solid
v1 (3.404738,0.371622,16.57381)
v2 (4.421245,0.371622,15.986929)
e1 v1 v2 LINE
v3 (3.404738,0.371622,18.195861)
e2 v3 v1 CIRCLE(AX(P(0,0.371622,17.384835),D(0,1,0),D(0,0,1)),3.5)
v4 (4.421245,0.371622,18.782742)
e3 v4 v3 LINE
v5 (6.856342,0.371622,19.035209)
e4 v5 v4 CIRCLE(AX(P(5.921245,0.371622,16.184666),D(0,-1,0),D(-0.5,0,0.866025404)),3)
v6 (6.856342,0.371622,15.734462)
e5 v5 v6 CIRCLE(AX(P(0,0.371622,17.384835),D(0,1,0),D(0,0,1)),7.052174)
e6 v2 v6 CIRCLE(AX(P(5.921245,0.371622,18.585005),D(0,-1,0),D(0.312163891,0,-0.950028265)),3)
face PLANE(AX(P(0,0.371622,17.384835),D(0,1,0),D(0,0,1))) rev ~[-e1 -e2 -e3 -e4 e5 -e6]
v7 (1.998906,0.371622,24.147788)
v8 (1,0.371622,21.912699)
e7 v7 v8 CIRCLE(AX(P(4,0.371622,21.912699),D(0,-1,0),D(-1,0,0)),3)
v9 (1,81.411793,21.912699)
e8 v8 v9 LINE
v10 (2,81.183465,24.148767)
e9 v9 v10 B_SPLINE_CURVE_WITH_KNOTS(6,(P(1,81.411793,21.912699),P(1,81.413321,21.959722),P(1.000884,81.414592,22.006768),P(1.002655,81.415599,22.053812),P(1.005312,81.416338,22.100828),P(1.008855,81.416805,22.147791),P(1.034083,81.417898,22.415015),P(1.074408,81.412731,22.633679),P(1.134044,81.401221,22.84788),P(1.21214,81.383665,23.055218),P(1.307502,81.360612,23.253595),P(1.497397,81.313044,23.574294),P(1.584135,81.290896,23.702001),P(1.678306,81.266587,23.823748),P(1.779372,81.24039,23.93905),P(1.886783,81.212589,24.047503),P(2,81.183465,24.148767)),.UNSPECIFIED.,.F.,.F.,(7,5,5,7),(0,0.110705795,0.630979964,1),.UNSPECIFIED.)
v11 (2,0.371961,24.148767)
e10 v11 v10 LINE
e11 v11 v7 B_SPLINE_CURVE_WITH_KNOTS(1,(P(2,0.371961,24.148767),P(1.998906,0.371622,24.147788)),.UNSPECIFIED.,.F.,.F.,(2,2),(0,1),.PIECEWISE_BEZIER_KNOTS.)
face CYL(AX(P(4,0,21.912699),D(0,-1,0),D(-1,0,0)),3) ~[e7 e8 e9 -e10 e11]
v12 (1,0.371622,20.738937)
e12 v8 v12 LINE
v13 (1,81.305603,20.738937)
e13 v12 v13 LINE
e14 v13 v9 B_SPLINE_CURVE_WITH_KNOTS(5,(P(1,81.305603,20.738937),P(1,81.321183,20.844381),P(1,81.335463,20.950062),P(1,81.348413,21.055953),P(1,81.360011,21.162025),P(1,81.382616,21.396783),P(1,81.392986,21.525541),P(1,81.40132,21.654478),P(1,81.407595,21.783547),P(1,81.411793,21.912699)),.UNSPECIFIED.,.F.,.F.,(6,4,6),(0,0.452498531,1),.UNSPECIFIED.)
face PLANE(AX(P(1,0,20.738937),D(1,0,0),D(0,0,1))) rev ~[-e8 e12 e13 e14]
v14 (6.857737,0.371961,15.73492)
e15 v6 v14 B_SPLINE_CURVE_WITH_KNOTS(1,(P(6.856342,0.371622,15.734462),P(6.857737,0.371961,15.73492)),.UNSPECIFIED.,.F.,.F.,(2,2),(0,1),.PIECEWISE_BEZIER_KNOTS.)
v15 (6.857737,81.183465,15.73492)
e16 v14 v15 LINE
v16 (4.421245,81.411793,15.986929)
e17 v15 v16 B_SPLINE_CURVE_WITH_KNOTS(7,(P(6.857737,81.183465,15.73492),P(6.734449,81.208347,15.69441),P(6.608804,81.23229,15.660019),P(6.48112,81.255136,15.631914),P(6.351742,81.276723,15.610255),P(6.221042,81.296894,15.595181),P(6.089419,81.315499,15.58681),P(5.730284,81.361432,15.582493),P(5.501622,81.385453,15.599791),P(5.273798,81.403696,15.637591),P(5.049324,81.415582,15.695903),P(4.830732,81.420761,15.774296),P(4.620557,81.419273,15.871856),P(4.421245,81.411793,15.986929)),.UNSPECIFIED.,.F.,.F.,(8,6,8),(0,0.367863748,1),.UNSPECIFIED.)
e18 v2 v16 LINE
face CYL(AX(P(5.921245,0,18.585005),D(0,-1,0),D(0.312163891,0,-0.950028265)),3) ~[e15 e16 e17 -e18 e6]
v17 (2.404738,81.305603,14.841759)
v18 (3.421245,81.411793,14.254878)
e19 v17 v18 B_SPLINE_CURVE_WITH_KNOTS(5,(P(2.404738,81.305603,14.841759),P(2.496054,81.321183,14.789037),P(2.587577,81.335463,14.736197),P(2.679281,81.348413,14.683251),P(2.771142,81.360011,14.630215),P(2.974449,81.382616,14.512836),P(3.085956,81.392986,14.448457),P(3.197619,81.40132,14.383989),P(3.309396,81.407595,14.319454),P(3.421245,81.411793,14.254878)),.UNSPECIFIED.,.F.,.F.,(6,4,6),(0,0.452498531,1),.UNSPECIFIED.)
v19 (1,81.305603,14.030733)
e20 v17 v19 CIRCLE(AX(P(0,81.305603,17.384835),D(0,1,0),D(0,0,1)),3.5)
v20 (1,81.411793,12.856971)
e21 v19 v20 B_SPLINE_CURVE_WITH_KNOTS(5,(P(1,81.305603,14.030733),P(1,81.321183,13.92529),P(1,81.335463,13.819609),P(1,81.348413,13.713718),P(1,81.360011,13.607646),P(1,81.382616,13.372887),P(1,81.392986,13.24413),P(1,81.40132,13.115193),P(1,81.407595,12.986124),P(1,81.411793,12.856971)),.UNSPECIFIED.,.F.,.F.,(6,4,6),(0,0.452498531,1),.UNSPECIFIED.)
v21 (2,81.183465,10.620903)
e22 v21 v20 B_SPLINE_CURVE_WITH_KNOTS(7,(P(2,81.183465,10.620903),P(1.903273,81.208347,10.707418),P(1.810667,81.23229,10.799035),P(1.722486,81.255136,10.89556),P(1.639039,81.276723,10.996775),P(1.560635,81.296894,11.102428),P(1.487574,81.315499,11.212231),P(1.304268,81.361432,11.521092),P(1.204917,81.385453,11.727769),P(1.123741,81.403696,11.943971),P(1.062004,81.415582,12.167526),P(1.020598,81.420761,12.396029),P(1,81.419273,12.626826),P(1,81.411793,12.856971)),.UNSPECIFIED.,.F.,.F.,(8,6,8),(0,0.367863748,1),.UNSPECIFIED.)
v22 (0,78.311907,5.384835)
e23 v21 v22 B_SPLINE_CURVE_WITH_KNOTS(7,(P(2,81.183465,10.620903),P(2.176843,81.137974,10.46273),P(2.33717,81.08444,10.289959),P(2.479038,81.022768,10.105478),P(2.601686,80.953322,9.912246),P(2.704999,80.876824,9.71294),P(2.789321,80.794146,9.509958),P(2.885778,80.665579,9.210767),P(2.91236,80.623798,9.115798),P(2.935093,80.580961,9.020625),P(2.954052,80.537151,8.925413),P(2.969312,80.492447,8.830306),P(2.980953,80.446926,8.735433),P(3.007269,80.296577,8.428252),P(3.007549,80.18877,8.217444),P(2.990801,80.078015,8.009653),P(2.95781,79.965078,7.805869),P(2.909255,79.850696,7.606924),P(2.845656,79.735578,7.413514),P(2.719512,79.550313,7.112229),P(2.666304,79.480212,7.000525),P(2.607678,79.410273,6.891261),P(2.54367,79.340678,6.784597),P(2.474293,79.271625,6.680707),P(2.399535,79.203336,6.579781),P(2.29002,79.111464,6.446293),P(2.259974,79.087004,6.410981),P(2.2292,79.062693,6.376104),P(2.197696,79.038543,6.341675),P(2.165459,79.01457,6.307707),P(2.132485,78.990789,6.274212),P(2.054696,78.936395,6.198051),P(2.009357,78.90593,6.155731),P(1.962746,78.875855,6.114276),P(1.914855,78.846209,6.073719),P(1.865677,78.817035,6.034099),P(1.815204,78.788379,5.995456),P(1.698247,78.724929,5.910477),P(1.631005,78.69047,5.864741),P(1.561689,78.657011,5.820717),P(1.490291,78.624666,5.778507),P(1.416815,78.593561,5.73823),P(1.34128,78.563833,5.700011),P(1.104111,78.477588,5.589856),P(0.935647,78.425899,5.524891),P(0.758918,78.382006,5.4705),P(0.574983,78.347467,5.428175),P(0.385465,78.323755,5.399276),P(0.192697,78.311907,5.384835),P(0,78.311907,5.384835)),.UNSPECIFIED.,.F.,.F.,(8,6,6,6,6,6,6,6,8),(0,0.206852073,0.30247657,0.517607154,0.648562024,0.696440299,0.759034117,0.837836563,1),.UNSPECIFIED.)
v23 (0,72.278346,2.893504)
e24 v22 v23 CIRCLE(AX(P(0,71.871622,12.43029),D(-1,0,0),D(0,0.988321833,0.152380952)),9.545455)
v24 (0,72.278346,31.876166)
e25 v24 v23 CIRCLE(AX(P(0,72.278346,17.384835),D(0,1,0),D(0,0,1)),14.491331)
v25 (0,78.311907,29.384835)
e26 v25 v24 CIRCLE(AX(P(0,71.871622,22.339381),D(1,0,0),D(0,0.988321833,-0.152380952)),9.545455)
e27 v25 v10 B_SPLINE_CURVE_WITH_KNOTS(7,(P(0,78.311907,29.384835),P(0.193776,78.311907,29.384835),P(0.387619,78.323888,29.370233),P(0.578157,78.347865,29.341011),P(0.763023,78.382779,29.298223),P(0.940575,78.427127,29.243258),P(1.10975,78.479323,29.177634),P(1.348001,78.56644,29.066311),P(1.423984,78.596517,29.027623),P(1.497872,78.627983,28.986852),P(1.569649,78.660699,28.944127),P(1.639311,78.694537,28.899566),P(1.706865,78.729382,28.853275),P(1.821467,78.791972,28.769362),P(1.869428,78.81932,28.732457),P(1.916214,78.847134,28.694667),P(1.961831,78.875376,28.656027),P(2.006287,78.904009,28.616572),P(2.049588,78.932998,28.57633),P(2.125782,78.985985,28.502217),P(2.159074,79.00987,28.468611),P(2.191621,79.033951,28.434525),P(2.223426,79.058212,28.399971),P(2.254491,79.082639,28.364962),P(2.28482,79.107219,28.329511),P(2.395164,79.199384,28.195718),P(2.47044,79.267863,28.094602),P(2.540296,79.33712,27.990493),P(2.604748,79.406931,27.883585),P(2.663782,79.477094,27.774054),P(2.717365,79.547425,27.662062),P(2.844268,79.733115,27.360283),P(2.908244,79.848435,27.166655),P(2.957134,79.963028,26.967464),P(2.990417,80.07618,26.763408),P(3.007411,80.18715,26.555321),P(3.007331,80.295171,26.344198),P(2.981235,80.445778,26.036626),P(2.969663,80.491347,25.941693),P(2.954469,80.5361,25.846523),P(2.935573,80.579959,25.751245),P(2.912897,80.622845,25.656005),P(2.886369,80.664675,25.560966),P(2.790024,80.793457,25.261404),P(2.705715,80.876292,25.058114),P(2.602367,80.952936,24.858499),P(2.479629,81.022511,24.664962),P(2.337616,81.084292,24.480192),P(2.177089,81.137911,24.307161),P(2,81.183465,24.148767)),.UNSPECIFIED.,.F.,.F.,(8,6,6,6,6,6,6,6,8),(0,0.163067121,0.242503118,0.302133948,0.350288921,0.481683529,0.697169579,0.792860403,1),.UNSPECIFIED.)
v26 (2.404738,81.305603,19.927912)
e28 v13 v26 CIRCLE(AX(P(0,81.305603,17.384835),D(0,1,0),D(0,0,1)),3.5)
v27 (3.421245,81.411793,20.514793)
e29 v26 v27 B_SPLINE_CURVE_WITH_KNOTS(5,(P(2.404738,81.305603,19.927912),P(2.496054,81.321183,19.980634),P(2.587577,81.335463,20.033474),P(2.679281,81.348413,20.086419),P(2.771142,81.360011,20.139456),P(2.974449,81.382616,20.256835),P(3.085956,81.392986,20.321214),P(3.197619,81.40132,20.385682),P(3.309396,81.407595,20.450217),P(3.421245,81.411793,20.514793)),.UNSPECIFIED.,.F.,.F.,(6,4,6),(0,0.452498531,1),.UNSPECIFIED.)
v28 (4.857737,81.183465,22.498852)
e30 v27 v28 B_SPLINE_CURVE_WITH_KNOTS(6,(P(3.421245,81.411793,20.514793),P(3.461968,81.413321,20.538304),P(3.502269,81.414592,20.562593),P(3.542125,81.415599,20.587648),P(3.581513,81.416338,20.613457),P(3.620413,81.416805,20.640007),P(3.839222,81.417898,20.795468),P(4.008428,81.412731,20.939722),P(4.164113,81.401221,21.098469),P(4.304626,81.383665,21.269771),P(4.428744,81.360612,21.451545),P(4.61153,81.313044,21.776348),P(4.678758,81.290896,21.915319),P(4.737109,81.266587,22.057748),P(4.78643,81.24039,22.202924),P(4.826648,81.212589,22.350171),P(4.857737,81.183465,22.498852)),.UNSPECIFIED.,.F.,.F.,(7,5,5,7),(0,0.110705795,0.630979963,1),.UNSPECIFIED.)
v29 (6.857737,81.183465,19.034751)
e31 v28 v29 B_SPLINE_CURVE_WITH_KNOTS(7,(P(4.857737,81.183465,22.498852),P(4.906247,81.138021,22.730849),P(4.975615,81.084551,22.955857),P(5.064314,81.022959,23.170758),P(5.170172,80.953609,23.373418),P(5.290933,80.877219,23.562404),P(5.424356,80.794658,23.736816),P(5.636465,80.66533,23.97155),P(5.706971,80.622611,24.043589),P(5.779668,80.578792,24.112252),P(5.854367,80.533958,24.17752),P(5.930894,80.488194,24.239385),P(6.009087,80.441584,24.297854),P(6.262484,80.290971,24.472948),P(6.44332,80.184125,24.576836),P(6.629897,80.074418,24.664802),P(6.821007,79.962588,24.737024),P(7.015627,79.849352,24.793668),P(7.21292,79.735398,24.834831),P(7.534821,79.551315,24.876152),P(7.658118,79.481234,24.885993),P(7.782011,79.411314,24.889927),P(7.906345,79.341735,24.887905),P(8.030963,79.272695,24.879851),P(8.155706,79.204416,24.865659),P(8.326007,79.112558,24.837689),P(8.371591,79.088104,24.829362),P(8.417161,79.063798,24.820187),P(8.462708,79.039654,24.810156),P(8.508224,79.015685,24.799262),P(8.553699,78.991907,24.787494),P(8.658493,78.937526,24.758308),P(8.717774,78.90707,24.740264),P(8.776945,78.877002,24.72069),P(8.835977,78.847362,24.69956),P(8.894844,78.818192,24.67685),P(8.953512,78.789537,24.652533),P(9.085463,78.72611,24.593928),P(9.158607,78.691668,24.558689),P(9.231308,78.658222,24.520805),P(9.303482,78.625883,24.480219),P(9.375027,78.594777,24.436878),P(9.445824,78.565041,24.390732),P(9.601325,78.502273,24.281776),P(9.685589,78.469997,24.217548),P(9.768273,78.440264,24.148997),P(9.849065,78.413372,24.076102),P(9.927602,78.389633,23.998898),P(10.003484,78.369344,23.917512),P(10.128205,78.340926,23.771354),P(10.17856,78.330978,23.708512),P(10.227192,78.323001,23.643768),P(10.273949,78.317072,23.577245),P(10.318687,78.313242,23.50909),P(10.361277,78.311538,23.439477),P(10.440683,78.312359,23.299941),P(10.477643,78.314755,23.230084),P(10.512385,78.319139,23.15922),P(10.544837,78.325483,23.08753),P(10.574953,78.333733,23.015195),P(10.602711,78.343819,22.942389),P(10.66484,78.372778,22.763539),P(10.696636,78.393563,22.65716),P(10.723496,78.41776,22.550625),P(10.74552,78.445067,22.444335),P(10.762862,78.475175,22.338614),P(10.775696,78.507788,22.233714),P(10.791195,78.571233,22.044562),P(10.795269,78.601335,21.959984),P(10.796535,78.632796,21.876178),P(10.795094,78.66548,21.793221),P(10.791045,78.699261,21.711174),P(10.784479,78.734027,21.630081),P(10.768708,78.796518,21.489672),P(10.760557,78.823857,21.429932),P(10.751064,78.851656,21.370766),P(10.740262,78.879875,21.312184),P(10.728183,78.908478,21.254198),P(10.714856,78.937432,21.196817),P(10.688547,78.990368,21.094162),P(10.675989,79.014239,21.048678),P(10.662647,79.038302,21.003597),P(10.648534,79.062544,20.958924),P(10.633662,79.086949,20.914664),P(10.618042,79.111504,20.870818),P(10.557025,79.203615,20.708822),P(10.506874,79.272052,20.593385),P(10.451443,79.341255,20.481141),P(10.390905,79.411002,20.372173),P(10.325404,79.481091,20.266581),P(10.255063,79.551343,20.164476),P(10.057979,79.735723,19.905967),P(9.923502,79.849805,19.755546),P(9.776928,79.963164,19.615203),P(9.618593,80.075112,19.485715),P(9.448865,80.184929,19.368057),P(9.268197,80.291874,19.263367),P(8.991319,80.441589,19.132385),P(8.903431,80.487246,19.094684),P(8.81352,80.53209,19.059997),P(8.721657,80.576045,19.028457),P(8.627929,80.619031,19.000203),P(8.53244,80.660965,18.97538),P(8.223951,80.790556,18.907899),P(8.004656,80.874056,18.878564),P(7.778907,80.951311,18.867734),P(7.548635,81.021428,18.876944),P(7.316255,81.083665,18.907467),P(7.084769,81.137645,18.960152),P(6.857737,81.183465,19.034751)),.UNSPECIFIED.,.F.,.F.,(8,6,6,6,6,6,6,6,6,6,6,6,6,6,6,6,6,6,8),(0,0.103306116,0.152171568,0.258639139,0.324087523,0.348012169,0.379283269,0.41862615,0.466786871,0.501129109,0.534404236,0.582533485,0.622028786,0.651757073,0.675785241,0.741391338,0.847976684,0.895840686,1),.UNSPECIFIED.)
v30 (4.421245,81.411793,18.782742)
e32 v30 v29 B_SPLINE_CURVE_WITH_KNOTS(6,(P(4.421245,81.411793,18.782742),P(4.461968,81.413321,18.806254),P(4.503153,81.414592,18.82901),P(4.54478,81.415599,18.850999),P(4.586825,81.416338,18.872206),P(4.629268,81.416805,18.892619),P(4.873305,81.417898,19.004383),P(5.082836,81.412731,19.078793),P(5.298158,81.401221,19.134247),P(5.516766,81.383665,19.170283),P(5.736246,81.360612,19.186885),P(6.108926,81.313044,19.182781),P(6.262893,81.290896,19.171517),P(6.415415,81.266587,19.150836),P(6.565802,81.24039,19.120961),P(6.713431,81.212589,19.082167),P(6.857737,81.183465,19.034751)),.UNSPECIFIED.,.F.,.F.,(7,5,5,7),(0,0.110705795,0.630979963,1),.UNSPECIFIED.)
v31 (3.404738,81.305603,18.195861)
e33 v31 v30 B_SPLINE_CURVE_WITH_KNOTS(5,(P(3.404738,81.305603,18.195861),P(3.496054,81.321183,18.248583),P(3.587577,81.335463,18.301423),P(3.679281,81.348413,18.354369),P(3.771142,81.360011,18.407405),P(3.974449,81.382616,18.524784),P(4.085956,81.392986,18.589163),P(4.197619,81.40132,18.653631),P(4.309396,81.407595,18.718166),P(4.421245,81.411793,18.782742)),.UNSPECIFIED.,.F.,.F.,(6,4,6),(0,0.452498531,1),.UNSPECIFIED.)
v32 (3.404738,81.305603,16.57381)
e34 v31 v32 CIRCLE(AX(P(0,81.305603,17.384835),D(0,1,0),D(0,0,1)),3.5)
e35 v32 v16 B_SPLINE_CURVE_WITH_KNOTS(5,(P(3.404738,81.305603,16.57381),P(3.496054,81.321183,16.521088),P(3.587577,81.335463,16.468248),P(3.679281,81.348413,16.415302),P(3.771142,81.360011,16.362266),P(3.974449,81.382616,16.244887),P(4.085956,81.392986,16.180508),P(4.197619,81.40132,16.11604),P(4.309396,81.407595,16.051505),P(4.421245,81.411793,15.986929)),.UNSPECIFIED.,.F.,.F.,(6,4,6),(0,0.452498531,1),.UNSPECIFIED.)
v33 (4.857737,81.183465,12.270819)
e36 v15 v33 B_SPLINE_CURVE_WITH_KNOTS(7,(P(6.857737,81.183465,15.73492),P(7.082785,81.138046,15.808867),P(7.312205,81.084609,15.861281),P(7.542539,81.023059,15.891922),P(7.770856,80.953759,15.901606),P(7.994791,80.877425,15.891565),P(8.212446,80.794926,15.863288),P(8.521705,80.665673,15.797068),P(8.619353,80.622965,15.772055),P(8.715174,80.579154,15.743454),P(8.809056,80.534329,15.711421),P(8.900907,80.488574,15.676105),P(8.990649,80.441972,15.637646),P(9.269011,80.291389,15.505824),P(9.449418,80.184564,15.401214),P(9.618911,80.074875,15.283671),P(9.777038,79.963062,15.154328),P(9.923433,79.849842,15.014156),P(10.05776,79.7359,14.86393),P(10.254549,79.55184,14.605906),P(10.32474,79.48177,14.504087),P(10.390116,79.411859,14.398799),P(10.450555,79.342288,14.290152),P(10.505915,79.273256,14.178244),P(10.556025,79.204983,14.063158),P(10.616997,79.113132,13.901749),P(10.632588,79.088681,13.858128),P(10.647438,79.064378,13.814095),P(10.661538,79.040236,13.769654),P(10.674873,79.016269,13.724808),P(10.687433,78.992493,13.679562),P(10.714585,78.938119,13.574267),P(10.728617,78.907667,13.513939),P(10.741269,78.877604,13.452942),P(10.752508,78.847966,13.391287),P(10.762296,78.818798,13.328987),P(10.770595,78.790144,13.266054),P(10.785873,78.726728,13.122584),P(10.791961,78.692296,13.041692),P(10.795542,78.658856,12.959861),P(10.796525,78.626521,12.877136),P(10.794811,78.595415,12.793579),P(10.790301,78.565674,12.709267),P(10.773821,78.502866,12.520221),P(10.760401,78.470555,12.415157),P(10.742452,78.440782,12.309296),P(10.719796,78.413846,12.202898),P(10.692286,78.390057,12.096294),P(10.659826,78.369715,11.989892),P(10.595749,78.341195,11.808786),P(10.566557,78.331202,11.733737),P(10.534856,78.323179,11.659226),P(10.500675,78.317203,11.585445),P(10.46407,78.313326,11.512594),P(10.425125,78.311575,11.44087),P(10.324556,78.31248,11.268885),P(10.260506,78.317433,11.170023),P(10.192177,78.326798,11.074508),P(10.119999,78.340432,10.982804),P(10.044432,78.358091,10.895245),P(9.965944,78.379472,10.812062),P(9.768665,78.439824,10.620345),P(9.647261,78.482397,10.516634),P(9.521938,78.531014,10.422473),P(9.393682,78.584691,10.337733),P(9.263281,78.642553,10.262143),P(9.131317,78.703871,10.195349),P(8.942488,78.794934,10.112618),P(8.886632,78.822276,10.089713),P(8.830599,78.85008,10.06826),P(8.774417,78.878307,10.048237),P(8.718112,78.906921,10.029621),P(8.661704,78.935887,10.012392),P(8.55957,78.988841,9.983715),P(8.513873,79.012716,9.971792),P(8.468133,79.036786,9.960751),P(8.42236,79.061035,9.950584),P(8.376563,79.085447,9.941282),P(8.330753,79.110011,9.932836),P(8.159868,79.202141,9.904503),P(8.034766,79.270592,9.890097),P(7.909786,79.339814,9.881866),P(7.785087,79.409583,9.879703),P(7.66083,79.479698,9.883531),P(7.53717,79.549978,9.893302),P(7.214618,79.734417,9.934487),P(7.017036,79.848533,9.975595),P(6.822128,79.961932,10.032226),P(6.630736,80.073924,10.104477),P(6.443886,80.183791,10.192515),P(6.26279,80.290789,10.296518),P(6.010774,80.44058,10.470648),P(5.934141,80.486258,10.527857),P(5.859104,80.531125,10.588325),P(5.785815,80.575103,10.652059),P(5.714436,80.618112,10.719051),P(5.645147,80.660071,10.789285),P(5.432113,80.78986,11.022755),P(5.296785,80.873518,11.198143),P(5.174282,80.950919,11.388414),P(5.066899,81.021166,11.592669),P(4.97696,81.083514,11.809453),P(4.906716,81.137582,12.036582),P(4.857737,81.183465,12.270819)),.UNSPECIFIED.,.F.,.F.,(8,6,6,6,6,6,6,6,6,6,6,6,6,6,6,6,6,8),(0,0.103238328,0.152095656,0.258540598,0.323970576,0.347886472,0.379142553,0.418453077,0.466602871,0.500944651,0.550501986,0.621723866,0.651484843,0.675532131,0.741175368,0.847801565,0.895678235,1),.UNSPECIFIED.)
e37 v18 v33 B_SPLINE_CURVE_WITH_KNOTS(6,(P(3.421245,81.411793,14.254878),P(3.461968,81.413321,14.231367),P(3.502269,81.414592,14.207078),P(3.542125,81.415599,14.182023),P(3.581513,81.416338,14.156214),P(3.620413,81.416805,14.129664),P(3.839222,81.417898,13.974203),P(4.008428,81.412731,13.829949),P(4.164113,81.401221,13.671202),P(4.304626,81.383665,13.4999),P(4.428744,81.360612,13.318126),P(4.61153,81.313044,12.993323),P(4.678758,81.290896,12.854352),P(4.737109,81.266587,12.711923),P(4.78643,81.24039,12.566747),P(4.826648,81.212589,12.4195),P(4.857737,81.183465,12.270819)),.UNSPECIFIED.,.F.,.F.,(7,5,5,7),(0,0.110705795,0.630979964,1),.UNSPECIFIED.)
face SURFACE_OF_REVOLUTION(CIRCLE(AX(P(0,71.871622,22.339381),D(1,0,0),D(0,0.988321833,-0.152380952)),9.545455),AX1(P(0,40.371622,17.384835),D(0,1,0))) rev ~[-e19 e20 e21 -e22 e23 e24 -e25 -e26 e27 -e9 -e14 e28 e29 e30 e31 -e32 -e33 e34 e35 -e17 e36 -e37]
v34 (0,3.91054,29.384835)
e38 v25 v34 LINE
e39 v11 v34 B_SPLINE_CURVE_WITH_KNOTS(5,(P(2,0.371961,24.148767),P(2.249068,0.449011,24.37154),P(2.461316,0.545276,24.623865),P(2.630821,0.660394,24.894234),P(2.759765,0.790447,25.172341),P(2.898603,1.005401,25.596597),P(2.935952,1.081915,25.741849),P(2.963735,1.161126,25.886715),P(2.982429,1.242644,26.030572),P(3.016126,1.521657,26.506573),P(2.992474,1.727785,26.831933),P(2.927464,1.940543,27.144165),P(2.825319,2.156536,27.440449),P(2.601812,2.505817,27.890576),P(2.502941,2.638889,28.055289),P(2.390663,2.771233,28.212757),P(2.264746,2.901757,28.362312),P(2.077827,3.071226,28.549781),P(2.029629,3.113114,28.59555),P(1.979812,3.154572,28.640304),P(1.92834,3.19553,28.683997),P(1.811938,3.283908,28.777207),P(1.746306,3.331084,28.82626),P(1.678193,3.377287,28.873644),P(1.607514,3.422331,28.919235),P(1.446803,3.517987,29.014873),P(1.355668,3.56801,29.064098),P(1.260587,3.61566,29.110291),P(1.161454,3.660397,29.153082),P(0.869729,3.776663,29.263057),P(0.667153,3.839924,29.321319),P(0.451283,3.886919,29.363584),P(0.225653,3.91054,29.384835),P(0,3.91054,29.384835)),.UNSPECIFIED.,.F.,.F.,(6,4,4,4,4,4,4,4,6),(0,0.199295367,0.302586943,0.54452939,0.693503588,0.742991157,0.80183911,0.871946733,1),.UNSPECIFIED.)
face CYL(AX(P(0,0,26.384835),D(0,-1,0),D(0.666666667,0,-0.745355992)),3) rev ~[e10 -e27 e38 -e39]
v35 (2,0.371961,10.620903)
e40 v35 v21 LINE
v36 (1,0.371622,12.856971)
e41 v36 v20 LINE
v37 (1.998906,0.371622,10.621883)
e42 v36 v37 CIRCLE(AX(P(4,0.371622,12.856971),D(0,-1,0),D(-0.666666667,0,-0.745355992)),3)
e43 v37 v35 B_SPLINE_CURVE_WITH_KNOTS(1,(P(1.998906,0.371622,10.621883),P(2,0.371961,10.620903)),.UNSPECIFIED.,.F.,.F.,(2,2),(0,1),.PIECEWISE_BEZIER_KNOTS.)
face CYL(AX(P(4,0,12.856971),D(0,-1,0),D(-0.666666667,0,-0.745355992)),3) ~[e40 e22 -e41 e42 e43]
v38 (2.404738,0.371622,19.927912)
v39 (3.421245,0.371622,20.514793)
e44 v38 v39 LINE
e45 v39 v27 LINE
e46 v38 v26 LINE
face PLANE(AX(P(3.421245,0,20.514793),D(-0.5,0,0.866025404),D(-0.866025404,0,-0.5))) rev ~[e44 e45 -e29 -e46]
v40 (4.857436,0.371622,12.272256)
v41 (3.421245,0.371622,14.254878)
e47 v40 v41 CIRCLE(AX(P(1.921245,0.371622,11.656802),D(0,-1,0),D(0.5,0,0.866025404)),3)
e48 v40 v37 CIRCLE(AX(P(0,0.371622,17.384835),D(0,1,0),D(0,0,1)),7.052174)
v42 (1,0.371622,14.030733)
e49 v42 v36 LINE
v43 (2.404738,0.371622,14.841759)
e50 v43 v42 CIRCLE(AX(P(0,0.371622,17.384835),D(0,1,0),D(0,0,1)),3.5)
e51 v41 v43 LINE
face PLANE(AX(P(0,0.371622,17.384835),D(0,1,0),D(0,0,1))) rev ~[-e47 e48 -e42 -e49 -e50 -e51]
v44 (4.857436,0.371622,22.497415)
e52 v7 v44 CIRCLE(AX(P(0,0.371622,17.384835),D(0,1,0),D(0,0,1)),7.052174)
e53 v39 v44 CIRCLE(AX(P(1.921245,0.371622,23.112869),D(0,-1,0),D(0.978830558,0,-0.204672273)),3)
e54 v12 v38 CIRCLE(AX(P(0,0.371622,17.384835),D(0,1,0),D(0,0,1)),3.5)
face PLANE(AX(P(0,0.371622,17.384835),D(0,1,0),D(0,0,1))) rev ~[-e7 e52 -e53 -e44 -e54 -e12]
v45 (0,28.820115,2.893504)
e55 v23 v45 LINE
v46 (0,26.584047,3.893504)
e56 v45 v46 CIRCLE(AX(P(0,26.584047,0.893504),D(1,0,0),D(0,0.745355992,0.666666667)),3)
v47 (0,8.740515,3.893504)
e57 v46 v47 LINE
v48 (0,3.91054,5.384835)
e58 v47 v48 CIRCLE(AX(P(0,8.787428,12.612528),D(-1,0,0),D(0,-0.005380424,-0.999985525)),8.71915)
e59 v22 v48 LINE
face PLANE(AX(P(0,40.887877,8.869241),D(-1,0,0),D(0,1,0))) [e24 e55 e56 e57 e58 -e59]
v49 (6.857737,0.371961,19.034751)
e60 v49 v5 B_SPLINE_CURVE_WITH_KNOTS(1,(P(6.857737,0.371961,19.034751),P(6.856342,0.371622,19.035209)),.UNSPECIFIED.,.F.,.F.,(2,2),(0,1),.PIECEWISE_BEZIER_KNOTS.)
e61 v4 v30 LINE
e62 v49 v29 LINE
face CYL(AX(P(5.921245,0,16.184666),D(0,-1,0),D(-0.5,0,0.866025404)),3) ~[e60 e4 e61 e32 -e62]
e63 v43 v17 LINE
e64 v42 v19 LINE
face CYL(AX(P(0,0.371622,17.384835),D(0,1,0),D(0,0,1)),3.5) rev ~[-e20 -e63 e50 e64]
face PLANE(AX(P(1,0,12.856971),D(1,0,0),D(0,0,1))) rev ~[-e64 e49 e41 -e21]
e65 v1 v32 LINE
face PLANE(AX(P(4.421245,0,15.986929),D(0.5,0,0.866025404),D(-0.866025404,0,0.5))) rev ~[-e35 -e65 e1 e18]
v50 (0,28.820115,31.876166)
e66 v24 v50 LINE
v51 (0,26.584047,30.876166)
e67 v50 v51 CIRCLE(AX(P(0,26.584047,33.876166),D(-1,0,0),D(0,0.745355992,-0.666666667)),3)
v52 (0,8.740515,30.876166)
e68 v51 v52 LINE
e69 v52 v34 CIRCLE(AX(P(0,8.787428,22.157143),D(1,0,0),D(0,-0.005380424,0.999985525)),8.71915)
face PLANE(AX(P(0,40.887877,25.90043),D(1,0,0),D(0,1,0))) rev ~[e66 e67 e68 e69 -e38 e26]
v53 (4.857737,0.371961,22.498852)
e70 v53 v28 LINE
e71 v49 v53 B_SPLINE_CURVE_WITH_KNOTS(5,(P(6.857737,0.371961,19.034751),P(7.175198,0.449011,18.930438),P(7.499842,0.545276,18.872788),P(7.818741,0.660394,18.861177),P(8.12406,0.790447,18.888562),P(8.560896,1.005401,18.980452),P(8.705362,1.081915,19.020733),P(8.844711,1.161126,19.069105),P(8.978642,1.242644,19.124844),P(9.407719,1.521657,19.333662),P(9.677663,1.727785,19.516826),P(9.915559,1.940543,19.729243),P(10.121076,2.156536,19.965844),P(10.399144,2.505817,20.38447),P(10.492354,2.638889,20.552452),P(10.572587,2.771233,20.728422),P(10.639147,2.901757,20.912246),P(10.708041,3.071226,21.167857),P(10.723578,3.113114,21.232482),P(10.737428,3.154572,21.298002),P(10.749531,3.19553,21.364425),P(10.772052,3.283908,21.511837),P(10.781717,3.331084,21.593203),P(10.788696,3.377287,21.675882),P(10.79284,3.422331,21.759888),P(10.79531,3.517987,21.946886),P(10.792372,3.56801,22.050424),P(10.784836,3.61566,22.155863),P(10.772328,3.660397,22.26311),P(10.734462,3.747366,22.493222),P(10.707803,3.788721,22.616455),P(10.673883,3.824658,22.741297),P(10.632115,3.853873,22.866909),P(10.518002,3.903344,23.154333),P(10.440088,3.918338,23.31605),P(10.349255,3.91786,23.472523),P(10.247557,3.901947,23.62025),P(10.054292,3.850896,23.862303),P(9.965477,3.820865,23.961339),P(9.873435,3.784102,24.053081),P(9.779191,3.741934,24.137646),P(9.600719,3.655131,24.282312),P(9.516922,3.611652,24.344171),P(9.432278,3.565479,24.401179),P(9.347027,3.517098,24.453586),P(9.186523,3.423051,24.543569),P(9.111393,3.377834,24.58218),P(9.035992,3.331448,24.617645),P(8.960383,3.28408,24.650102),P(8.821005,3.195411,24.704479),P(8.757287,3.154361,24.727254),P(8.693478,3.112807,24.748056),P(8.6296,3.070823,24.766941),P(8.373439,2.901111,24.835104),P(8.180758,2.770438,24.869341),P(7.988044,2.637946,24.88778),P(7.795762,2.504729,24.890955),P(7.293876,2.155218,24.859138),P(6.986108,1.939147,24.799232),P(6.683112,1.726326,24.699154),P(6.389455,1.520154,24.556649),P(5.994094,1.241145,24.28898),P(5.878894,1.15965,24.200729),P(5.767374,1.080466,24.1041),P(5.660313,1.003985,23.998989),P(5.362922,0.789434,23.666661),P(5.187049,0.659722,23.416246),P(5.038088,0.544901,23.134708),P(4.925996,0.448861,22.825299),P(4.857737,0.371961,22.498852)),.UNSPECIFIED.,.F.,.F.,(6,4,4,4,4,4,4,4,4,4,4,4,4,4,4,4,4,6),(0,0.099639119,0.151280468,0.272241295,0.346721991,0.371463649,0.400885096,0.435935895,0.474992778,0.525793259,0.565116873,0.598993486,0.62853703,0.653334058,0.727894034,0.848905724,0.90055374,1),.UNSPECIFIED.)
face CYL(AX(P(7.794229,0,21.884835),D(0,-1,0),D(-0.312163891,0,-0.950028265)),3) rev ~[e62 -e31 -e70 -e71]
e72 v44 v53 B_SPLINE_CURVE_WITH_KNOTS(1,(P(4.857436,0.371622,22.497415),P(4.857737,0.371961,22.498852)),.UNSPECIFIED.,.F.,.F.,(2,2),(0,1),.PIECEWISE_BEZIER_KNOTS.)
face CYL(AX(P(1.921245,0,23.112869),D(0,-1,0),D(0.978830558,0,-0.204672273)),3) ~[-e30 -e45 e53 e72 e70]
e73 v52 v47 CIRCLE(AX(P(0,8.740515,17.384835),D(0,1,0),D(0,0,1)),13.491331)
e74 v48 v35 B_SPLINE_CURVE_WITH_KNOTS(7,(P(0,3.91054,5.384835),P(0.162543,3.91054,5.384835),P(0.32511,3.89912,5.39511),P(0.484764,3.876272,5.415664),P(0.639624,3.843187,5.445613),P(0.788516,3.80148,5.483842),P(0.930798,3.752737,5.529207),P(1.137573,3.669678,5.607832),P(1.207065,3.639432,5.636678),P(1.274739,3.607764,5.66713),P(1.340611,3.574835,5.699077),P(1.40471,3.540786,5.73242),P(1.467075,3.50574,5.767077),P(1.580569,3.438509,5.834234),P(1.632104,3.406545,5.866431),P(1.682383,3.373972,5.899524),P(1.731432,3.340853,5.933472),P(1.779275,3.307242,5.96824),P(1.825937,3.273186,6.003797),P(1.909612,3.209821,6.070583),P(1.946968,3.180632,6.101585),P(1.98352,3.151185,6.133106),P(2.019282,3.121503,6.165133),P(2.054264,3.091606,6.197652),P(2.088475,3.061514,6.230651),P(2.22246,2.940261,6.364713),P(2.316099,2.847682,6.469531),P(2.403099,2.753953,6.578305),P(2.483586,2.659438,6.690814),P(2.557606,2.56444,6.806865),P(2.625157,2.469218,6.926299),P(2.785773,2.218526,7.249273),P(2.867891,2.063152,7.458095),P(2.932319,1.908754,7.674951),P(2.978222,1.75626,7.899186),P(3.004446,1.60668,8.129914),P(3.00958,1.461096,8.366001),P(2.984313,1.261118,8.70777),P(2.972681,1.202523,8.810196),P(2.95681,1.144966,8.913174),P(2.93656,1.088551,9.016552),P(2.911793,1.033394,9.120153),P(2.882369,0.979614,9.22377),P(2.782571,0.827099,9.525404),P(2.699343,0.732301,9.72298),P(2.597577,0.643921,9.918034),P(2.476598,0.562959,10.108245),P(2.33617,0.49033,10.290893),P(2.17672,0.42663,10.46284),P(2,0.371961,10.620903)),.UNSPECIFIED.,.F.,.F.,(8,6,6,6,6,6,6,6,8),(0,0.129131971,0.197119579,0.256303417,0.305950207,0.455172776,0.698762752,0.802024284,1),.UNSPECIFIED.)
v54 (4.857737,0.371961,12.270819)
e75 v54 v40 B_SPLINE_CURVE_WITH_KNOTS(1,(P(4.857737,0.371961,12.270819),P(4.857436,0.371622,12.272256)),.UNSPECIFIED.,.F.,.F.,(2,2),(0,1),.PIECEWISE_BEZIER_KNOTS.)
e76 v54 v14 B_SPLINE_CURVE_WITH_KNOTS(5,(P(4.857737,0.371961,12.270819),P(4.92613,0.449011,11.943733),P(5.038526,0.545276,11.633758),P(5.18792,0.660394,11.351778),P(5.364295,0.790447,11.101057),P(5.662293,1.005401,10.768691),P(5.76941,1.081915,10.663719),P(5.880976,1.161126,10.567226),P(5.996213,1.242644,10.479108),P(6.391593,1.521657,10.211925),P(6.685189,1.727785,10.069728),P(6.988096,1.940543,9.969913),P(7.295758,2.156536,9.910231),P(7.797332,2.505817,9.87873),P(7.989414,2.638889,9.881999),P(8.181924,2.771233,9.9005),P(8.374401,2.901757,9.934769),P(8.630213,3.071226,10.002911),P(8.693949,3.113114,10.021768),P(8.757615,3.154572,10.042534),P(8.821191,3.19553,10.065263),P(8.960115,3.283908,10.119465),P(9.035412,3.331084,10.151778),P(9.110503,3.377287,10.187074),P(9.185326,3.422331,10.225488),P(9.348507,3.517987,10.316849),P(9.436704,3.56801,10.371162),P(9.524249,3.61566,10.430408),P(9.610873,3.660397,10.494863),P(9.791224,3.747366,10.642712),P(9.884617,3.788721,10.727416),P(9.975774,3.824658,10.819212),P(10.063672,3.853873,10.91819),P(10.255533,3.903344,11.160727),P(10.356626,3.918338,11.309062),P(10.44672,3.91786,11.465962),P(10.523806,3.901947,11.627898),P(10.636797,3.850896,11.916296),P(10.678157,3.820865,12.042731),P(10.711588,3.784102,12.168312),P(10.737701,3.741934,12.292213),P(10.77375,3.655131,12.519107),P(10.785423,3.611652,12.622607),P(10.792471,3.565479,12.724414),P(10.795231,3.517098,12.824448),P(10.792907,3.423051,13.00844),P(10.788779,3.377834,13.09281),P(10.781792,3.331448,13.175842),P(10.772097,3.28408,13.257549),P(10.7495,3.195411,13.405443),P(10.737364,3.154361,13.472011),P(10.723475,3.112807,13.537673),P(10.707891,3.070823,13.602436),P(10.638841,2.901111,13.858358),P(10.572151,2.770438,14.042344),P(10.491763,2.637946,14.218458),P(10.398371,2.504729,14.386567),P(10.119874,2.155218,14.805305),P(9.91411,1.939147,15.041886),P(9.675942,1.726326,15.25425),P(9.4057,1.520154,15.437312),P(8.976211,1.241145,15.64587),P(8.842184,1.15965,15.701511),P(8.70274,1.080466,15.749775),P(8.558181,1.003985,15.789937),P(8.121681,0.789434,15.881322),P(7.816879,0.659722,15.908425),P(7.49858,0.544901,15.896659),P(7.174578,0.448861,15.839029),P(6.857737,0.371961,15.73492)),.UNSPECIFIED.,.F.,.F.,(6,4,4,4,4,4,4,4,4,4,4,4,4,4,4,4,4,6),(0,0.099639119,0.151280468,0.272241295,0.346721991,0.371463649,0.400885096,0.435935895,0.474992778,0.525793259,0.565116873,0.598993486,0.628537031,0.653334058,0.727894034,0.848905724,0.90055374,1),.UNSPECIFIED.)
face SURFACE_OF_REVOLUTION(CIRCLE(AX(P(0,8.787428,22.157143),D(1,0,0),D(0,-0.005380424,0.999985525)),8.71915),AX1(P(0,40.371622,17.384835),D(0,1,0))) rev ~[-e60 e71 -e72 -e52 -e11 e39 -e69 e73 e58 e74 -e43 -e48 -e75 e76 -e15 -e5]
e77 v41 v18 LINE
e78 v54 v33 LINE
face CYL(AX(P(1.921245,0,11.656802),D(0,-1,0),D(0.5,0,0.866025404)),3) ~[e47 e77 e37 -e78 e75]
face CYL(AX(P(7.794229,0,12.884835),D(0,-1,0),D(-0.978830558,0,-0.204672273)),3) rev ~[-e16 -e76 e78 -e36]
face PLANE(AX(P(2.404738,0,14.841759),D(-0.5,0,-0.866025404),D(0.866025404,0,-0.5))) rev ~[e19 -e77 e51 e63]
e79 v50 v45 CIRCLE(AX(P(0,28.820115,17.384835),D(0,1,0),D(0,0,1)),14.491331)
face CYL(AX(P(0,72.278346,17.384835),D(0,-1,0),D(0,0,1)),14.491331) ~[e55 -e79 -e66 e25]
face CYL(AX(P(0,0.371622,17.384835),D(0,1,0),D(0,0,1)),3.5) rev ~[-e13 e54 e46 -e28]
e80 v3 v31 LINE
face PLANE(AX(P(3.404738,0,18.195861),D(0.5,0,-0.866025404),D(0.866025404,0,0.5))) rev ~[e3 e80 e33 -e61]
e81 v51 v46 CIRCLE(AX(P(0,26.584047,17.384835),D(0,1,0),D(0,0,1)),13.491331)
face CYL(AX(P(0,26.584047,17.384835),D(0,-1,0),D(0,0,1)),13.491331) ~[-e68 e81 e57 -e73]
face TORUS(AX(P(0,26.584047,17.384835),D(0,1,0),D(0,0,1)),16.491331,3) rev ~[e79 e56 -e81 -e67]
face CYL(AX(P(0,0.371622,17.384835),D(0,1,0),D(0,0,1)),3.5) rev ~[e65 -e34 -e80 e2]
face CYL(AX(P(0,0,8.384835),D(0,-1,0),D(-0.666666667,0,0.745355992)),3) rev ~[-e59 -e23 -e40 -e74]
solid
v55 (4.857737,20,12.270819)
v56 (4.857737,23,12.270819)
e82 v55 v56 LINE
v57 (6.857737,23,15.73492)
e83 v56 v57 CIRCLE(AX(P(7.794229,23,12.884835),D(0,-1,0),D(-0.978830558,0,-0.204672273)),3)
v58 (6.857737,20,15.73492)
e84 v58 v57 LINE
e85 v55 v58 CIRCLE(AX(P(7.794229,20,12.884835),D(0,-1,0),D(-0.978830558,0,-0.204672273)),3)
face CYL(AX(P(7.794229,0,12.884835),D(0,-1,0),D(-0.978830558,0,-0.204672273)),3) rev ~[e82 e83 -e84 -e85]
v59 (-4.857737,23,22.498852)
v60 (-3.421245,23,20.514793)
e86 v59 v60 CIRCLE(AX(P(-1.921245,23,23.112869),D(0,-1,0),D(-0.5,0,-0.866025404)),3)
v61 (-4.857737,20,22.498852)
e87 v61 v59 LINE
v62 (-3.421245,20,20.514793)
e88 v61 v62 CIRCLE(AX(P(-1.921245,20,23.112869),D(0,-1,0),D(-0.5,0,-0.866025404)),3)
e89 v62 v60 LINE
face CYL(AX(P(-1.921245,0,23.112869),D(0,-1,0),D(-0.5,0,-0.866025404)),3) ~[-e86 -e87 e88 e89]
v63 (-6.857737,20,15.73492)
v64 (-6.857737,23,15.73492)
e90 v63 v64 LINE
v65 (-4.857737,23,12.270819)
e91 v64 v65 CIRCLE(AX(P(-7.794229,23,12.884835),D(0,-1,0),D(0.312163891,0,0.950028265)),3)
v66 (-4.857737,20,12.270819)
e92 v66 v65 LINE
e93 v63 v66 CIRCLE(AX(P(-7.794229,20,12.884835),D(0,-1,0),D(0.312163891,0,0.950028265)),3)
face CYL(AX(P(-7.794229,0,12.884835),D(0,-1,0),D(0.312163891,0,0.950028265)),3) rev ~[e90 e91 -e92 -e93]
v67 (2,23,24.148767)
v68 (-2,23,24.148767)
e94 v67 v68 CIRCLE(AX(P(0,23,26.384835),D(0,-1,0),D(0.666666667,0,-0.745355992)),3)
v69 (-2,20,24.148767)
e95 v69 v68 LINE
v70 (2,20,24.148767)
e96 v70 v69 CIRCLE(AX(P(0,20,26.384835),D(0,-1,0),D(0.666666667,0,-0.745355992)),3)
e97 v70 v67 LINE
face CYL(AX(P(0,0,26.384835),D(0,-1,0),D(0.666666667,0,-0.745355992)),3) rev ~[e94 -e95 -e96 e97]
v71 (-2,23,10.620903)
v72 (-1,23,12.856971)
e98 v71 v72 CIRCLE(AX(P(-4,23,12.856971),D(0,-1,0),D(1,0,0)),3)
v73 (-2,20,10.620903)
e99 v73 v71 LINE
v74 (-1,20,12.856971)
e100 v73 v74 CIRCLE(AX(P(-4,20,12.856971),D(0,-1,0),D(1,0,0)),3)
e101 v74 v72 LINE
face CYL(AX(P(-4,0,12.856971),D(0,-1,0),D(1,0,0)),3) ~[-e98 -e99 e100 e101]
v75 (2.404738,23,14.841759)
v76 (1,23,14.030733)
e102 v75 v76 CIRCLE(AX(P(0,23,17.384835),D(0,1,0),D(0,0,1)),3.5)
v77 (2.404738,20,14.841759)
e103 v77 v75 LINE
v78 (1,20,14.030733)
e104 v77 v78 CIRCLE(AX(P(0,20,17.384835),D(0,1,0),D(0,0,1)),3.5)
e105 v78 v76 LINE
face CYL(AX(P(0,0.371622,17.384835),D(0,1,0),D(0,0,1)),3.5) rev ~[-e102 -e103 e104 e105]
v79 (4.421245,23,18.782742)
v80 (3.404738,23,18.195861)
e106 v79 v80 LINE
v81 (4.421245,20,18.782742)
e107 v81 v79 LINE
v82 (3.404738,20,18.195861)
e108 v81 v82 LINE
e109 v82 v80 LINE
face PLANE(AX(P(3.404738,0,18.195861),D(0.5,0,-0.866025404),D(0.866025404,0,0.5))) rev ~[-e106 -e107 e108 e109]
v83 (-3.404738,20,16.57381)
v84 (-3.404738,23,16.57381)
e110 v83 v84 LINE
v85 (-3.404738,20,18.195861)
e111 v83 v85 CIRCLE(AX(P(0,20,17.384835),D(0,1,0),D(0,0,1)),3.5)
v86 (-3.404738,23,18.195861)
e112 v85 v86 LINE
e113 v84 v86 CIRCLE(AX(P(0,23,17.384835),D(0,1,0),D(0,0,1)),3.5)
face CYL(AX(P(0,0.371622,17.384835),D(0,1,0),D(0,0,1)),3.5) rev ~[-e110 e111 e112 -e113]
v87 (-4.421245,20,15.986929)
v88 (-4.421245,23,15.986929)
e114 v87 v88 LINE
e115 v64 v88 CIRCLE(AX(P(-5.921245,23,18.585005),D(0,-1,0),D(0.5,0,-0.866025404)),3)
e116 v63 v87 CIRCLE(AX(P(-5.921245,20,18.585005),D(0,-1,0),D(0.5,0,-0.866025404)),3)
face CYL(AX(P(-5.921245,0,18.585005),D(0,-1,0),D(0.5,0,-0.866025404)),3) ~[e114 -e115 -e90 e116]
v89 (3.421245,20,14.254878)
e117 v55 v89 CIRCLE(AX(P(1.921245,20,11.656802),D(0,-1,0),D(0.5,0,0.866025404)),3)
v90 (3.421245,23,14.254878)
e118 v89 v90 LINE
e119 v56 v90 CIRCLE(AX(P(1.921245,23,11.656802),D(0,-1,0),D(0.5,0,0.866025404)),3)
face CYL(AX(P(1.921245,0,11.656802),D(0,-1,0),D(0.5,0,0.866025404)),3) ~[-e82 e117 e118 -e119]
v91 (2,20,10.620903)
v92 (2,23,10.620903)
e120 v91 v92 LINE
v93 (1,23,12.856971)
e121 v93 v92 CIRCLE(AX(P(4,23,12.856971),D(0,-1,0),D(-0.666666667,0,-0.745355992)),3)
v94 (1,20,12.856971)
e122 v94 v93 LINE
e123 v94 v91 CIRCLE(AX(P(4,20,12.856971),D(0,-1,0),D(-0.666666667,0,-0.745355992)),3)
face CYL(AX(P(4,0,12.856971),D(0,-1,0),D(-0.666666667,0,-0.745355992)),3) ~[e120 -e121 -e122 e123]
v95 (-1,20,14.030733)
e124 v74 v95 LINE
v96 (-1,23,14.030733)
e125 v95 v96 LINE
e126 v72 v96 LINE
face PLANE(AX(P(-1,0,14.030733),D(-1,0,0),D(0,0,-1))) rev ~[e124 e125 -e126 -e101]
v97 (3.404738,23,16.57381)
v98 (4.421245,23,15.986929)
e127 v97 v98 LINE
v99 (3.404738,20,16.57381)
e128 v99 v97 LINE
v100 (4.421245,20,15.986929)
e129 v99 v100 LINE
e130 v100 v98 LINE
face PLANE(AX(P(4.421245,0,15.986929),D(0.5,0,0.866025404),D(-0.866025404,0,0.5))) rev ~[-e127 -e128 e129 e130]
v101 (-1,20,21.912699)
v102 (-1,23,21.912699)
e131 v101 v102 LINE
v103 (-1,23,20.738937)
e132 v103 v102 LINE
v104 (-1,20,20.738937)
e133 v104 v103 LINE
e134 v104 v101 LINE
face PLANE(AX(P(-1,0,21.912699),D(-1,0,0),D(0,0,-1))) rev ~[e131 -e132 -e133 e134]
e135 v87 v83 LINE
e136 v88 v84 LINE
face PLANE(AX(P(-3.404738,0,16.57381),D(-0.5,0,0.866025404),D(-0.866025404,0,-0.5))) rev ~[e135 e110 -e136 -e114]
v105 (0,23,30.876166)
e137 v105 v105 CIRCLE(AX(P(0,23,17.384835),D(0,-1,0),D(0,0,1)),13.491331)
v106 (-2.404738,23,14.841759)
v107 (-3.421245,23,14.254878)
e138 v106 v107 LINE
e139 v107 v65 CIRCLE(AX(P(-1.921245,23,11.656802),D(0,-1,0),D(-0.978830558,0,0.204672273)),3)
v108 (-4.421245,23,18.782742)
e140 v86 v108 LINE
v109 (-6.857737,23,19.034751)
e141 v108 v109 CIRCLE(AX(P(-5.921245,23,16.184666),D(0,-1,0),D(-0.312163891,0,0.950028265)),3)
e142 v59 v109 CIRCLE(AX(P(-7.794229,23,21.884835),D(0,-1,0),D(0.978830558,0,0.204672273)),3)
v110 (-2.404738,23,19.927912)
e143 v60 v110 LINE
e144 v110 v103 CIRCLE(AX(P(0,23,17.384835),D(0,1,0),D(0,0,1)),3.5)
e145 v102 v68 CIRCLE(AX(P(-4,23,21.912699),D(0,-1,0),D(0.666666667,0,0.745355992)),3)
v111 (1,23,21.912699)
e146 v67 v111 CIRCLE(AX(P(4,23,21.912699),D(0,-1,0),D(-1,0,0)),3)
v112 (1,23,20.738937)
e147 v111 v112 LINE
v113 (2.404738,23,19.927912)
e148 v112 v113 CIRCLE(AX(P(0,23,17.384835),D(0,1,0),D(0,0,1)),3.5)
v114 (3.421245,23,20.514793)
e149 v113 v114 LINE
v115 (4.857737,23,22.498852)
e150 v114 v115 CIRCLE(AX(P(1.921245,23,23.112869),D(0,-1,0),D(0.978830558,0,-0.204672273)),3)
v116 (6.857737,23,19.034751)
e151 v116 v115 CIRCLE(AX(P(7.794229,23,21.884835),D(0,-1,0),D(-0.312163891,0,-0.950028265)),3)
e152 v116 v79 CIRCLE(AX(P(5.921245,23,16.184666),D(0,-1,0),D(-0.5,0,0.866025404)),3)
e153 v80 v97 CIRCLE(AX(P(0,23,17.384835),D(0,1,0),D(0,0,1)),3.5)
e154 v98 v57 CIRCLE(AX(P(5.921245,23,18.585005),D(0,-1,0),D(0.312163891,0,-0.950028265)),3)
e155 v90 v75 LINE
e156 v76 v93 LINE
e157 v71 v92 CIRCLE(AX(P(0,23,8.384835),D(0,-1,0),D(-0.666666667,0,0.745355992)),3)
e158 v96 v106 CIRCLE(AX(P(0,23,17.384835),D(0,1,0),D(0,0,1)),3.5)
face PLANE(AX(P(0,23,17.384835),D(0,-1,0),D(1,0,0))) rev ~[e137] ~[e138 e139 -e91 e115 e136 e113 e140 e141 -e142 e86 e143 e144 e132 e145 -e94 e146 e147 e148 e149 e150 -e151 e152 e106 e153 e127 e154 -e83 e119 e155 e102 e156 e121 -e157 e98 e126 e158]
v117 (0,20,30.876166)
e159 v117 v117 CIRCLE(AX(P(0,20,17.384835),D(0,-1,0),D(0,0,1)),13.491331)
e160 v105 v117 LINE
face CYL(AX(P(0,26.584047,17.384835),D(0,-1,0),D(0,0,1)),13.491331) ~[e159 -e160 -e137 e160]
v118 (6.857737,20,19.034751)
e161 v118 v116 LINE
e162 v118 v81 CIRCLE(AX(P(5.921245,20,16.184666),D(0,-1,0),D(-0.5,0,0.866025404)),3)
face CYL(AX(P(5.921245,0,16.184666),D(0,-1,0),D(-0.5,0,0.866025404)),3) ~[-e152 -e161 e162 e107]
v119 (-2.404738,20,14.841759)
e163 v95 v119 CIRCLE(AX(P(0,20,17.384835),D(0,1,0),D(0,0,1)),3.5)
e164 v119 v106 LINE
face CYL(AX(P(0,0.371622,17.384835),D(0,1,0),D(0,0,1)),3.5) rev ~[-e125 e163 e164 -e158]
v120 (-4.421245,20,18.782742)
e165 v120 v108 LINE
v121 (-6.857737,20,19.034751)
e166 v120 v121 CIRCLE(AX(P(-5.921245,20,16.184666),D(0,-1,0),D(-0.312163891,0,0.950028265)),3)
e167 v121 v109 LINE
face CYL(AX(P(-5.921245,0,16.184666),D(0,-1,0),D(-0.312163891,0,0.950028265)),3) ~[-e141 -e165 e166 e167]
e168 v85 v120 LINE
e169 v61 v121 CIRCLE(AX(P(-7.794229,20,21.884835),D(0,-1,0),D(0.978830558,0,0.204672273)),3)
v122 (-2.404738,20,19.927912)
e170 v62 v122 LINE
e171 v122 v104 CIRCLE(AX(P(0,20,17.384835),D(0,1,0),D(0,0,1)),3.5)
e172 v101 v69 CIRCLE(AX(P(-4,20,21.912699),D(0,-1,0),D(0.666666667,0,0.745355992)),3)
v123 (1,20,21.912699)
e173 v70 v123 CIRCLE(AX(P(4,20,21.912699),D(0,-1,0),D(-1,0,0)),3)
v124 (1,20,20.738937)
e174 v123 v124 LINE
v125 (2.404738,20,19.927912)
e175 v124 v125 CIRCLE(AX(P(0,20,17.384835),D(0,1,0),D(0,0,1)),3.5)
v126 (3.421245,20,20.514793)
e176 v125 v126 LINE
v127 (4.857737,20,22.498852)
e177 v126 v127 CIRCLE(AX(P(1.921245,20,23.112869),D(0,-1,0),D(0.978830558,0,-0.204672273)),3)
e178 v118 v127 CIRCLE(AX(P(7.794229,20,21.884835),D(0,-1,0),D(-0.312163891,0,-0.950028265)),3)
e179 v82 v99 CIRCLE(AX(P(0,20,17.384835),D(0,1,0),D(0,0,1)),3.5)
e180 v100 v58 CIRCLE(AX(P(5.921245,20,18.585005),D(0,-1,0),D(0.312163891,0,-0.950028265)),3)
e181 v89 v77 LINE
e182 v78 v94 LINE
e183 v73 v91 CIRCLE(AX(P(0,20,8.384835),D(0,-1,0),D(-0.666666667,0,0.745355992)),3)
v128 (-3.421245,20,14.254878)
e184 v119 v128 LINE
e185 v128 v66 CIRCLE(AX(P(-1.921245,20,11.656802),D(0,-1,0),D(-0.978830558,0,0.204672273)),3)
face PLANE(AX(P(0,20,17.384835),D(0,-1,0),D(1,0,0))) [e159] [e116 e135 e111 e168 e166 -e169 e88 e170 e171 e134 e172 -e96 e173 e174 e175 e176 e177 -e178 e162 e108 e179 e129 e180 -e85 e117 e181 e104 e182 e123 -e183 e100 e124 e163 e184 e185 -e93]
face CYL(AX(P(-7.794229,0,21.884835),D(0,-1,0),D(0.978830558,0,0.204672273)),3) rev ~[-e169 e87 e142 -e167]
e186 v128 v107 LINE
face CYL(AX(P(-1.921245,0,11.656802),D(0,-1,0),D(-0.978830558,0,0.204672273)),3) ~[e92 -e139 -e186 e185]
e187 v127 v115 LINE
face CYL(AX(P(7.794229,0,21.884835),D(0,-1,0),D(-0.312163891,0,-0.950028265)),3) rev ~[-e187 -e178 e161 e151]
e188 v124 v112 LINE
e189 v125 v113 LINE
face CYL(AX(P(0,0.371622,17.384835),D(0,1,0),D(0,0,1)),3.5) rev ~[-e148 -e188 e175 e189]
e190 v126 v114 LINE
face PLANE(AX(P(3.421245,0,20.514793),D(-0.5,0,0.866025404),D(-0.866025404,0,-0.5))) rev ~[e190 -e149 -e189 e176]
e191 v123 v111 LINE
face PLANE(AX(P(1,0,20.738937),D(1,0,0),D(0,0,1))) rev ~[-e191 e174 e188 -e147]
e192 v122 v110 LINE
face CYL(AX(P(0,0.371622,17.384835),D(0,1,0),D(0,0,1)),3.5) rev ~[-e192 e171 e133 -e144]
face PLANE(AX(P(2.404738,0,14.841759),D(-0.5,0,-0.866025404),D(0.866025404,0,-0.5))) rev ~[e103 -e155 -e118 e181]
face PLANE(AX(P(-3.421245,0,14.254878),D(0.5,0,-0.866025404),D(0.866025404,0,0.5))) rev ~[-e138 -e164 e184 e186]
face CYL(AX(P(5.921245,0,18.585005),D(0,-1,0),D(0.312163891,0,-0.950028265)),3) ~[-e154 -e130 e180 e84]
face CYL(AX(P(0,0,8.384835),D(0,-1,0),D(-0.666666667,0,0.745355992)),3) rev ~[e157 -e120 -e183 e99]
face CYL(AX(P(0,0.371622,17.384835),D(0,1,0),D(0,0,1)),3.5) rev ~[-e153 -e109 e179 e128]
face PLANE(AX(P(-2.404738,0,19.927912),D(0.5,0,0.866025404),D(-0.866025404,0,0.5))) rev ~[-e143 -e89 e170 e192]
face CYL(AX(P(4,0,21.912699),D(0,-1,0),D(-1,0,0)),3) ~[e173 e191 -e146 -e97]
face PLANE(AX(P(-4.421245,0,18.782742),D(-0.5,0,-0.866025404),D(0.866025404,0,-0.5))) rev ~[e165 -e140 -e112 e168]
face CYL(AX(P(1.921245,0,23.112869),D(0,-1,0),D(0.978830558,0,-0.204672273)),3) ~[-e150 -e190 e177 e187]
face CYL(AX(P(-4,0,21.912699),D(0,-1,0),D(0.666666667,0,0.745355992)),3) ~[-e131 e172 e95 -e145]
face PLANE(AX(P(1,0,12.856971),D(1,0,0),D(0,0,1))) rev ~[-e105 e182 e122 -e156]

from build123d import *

# Parameters (mm, degrees)
F4_ANGLE  = 180
F6_DEPTH  = 90
F8_COUNT  = 6
F12_START = -20
F11_R     = 13.4913344195
F12_DEPTH = 3


with BuildPart() as f4:
    # F3 (on Right) → F4 (revolve)
    with BuildSketch(Plane.YZ):
        with BuildLine():
            Line((0.3716222048, 20.884835436), (81.3056033368, 20.884835436))
            ThreePointArc((81.3056033368, 20.884835436), (79.2480851868, 28.3977219469), (72.2783456923, 31.8761664331))
            Line((72.2783456923, 31.8761664331), (28.8201148927, 31.8761664331))
            ThreePointArc((28.8201148927, 31.8761664331), (27.8087917866, 31.1375536456), (26.5840469152, 30.8761664331))
            Line((26.5840469152, 30.8761664331), (8.8330505692, 30.8761664331))
            Line((8.8330505692, 30.8761664331), (8.7405150061, 30.8761664331))
            ThreePointArc((8.7405150061, 30.8761664331), (3.470465515, 29.0675325384), (0.3716222048, 24.4370089889))
            Line((0.3716222048, 24.4370089889), (0.3716222048, 20.884835436))
        make_face()
    revolve(axis=Axis((0, 40.3716222048, 17.384835436), (0, 1, 0)), revolution_arc=F4_ANGLE)


with BuildPart() as f6:
    # F5 (on Front) → F6 (new body)
    with BuildSketch(Plane.XZ):
        with BuildLine():
            ThreePointArc((1, 14.0307334698), (0, 13.884835436), (-1, 14.0307334698))
            Line((-1, 14.0307334698), (-1, 12.856971391))
            ThreePointArc((-1, 12.856971391), (-1.2613872125, 11.6322265196), (-2, 10.6209034135))
            ThreePointArc((-2, 10.6209034135), (0, 5.384835436), (2, 10.6209034135))
            ThreePointArc((2, 10.6209034135), (1.2613872125, 11.6322265196), (1, 12.856971391))
            Line((1, 12.856971391), (1, 14.0307334698))
        make_face()
    extrude(amount=-F6_DEPTH)


with BuildPart() as f8_1:
    # F8: instance of F6
    add(f6.part.rotate(Axis((0, 20.536005497, 17.384835436), (0, 1, 0)), 1 * 360 / F8_COUNT))


with BuildPart() as f8_2:
    # F8: instance of F6
    add(f6.part.rotate(Axis((0, 20.536005497, 17.384835436), (0, 1, 0)), 2 * 360 / F8_COUNT))


with BuildPart() as f8_3:
    # F8: instance of F6
    add(f6.part.rotate(Axis((0, 20.536005497, 17.384835436), (0, 1, 0)), 3 * 360 / F8_COUNT))


with BuildPart() as f8_4:
    # F8: instance of F6
    add(f6.part.rotate(Axis((0, 20.536005497, 17.384835436), (0, 1, 0)), 4 * 360 / F8_COUNT))


with BuildPart() as f8_5:
    # F8: instance of F6
    add(f6.part.rotate(Axis((0, 20.536005497, 17.384835436), (0, 1, 0)), 5 * 360 / F8_COUNT))


with BuildPart() as f4_1:
    add(f4.part)

    # F9: cut F8_3, F8_4, F8_5, F6
    add(f8_3.part, mode=Mode.SUBTRACT)
    add(f8_4.part, mode=Mode.SUBTRACT)
    add(f8_5.part, mode=Mode.SUBTRACT)
    add(f6.part, mode=Mode.SUBTRACT)


with BuildPart() as f10:
    # F3 (on Right) → F10 (revolve)
    with BuildSketch(Plane.YZ):
        with BuildLine():
            Line((0.3716222048, 20.884835436), (81.3056033368, 20.884835436))
            ThreePointArc((81.3056033368, 20.884835436), (79.2480851868, 28.3977219469), (72.2783456923, 31.8761664331))
            Line((72.2783456923, 31.8761664331), (28.8201148927, 31.8761664331))
            ThreePointArc((28.8201148927, 31.8761664331), (27.8087917866, 31.1375536456), (26.5840469152, 30.8761664331))
            Line((26.5840469152, 30.8761664331), (8.8330505692, 30.8761664331))
            Line((8.8330505692, 30.8761664331), (8.7405150061, 30.8761664331))
            ThreePointArc((8.7405150061, 30.8761664331), (3.470465515, 29.0675325384), (0.3716222048, 24.4370089889))
            Line((0.3716222048, 24.4370089889), (0.3716222048, 20.884835436))
        make_face()
    revolve(axis=Axis((0, 40.3716222048, 17.384835436), (0, 1, 0)))

    # F13: cut F6, F8_5, F8_4, F8_3, F8_2, F8_1
    add(f6.part, mode=Mode.SUBTRACT)
    add(f8_5.part, mode=Mode.SUBTRACT)
    add(f8_4.part, mode=Mode.SUBTRACT)
    add(f8_3.part, mode=Mode.SUBTRACT)
    add(f8_2.part, mode=Mode.SUBTRACT)
    add(f8_1.part, mode=Mode.SUBTRACT)


with BuildPart() as f12:
    # F11 (on Front) → F12 (new body)
    with BuildSketch(Plane.XZ.offset(F12_START)):
        with Locations((0, 17.384835436)):
            Circle(F11_R)
    extrude(amount=-F12_DEPTH)


with BuildPart() as f10_1:
    add(f10.part)

    # F14: intersect F12
    add(f12.part, mode=Mode.INTERSECT)


solid = Compound([f4_1.part, f10_1.part])
